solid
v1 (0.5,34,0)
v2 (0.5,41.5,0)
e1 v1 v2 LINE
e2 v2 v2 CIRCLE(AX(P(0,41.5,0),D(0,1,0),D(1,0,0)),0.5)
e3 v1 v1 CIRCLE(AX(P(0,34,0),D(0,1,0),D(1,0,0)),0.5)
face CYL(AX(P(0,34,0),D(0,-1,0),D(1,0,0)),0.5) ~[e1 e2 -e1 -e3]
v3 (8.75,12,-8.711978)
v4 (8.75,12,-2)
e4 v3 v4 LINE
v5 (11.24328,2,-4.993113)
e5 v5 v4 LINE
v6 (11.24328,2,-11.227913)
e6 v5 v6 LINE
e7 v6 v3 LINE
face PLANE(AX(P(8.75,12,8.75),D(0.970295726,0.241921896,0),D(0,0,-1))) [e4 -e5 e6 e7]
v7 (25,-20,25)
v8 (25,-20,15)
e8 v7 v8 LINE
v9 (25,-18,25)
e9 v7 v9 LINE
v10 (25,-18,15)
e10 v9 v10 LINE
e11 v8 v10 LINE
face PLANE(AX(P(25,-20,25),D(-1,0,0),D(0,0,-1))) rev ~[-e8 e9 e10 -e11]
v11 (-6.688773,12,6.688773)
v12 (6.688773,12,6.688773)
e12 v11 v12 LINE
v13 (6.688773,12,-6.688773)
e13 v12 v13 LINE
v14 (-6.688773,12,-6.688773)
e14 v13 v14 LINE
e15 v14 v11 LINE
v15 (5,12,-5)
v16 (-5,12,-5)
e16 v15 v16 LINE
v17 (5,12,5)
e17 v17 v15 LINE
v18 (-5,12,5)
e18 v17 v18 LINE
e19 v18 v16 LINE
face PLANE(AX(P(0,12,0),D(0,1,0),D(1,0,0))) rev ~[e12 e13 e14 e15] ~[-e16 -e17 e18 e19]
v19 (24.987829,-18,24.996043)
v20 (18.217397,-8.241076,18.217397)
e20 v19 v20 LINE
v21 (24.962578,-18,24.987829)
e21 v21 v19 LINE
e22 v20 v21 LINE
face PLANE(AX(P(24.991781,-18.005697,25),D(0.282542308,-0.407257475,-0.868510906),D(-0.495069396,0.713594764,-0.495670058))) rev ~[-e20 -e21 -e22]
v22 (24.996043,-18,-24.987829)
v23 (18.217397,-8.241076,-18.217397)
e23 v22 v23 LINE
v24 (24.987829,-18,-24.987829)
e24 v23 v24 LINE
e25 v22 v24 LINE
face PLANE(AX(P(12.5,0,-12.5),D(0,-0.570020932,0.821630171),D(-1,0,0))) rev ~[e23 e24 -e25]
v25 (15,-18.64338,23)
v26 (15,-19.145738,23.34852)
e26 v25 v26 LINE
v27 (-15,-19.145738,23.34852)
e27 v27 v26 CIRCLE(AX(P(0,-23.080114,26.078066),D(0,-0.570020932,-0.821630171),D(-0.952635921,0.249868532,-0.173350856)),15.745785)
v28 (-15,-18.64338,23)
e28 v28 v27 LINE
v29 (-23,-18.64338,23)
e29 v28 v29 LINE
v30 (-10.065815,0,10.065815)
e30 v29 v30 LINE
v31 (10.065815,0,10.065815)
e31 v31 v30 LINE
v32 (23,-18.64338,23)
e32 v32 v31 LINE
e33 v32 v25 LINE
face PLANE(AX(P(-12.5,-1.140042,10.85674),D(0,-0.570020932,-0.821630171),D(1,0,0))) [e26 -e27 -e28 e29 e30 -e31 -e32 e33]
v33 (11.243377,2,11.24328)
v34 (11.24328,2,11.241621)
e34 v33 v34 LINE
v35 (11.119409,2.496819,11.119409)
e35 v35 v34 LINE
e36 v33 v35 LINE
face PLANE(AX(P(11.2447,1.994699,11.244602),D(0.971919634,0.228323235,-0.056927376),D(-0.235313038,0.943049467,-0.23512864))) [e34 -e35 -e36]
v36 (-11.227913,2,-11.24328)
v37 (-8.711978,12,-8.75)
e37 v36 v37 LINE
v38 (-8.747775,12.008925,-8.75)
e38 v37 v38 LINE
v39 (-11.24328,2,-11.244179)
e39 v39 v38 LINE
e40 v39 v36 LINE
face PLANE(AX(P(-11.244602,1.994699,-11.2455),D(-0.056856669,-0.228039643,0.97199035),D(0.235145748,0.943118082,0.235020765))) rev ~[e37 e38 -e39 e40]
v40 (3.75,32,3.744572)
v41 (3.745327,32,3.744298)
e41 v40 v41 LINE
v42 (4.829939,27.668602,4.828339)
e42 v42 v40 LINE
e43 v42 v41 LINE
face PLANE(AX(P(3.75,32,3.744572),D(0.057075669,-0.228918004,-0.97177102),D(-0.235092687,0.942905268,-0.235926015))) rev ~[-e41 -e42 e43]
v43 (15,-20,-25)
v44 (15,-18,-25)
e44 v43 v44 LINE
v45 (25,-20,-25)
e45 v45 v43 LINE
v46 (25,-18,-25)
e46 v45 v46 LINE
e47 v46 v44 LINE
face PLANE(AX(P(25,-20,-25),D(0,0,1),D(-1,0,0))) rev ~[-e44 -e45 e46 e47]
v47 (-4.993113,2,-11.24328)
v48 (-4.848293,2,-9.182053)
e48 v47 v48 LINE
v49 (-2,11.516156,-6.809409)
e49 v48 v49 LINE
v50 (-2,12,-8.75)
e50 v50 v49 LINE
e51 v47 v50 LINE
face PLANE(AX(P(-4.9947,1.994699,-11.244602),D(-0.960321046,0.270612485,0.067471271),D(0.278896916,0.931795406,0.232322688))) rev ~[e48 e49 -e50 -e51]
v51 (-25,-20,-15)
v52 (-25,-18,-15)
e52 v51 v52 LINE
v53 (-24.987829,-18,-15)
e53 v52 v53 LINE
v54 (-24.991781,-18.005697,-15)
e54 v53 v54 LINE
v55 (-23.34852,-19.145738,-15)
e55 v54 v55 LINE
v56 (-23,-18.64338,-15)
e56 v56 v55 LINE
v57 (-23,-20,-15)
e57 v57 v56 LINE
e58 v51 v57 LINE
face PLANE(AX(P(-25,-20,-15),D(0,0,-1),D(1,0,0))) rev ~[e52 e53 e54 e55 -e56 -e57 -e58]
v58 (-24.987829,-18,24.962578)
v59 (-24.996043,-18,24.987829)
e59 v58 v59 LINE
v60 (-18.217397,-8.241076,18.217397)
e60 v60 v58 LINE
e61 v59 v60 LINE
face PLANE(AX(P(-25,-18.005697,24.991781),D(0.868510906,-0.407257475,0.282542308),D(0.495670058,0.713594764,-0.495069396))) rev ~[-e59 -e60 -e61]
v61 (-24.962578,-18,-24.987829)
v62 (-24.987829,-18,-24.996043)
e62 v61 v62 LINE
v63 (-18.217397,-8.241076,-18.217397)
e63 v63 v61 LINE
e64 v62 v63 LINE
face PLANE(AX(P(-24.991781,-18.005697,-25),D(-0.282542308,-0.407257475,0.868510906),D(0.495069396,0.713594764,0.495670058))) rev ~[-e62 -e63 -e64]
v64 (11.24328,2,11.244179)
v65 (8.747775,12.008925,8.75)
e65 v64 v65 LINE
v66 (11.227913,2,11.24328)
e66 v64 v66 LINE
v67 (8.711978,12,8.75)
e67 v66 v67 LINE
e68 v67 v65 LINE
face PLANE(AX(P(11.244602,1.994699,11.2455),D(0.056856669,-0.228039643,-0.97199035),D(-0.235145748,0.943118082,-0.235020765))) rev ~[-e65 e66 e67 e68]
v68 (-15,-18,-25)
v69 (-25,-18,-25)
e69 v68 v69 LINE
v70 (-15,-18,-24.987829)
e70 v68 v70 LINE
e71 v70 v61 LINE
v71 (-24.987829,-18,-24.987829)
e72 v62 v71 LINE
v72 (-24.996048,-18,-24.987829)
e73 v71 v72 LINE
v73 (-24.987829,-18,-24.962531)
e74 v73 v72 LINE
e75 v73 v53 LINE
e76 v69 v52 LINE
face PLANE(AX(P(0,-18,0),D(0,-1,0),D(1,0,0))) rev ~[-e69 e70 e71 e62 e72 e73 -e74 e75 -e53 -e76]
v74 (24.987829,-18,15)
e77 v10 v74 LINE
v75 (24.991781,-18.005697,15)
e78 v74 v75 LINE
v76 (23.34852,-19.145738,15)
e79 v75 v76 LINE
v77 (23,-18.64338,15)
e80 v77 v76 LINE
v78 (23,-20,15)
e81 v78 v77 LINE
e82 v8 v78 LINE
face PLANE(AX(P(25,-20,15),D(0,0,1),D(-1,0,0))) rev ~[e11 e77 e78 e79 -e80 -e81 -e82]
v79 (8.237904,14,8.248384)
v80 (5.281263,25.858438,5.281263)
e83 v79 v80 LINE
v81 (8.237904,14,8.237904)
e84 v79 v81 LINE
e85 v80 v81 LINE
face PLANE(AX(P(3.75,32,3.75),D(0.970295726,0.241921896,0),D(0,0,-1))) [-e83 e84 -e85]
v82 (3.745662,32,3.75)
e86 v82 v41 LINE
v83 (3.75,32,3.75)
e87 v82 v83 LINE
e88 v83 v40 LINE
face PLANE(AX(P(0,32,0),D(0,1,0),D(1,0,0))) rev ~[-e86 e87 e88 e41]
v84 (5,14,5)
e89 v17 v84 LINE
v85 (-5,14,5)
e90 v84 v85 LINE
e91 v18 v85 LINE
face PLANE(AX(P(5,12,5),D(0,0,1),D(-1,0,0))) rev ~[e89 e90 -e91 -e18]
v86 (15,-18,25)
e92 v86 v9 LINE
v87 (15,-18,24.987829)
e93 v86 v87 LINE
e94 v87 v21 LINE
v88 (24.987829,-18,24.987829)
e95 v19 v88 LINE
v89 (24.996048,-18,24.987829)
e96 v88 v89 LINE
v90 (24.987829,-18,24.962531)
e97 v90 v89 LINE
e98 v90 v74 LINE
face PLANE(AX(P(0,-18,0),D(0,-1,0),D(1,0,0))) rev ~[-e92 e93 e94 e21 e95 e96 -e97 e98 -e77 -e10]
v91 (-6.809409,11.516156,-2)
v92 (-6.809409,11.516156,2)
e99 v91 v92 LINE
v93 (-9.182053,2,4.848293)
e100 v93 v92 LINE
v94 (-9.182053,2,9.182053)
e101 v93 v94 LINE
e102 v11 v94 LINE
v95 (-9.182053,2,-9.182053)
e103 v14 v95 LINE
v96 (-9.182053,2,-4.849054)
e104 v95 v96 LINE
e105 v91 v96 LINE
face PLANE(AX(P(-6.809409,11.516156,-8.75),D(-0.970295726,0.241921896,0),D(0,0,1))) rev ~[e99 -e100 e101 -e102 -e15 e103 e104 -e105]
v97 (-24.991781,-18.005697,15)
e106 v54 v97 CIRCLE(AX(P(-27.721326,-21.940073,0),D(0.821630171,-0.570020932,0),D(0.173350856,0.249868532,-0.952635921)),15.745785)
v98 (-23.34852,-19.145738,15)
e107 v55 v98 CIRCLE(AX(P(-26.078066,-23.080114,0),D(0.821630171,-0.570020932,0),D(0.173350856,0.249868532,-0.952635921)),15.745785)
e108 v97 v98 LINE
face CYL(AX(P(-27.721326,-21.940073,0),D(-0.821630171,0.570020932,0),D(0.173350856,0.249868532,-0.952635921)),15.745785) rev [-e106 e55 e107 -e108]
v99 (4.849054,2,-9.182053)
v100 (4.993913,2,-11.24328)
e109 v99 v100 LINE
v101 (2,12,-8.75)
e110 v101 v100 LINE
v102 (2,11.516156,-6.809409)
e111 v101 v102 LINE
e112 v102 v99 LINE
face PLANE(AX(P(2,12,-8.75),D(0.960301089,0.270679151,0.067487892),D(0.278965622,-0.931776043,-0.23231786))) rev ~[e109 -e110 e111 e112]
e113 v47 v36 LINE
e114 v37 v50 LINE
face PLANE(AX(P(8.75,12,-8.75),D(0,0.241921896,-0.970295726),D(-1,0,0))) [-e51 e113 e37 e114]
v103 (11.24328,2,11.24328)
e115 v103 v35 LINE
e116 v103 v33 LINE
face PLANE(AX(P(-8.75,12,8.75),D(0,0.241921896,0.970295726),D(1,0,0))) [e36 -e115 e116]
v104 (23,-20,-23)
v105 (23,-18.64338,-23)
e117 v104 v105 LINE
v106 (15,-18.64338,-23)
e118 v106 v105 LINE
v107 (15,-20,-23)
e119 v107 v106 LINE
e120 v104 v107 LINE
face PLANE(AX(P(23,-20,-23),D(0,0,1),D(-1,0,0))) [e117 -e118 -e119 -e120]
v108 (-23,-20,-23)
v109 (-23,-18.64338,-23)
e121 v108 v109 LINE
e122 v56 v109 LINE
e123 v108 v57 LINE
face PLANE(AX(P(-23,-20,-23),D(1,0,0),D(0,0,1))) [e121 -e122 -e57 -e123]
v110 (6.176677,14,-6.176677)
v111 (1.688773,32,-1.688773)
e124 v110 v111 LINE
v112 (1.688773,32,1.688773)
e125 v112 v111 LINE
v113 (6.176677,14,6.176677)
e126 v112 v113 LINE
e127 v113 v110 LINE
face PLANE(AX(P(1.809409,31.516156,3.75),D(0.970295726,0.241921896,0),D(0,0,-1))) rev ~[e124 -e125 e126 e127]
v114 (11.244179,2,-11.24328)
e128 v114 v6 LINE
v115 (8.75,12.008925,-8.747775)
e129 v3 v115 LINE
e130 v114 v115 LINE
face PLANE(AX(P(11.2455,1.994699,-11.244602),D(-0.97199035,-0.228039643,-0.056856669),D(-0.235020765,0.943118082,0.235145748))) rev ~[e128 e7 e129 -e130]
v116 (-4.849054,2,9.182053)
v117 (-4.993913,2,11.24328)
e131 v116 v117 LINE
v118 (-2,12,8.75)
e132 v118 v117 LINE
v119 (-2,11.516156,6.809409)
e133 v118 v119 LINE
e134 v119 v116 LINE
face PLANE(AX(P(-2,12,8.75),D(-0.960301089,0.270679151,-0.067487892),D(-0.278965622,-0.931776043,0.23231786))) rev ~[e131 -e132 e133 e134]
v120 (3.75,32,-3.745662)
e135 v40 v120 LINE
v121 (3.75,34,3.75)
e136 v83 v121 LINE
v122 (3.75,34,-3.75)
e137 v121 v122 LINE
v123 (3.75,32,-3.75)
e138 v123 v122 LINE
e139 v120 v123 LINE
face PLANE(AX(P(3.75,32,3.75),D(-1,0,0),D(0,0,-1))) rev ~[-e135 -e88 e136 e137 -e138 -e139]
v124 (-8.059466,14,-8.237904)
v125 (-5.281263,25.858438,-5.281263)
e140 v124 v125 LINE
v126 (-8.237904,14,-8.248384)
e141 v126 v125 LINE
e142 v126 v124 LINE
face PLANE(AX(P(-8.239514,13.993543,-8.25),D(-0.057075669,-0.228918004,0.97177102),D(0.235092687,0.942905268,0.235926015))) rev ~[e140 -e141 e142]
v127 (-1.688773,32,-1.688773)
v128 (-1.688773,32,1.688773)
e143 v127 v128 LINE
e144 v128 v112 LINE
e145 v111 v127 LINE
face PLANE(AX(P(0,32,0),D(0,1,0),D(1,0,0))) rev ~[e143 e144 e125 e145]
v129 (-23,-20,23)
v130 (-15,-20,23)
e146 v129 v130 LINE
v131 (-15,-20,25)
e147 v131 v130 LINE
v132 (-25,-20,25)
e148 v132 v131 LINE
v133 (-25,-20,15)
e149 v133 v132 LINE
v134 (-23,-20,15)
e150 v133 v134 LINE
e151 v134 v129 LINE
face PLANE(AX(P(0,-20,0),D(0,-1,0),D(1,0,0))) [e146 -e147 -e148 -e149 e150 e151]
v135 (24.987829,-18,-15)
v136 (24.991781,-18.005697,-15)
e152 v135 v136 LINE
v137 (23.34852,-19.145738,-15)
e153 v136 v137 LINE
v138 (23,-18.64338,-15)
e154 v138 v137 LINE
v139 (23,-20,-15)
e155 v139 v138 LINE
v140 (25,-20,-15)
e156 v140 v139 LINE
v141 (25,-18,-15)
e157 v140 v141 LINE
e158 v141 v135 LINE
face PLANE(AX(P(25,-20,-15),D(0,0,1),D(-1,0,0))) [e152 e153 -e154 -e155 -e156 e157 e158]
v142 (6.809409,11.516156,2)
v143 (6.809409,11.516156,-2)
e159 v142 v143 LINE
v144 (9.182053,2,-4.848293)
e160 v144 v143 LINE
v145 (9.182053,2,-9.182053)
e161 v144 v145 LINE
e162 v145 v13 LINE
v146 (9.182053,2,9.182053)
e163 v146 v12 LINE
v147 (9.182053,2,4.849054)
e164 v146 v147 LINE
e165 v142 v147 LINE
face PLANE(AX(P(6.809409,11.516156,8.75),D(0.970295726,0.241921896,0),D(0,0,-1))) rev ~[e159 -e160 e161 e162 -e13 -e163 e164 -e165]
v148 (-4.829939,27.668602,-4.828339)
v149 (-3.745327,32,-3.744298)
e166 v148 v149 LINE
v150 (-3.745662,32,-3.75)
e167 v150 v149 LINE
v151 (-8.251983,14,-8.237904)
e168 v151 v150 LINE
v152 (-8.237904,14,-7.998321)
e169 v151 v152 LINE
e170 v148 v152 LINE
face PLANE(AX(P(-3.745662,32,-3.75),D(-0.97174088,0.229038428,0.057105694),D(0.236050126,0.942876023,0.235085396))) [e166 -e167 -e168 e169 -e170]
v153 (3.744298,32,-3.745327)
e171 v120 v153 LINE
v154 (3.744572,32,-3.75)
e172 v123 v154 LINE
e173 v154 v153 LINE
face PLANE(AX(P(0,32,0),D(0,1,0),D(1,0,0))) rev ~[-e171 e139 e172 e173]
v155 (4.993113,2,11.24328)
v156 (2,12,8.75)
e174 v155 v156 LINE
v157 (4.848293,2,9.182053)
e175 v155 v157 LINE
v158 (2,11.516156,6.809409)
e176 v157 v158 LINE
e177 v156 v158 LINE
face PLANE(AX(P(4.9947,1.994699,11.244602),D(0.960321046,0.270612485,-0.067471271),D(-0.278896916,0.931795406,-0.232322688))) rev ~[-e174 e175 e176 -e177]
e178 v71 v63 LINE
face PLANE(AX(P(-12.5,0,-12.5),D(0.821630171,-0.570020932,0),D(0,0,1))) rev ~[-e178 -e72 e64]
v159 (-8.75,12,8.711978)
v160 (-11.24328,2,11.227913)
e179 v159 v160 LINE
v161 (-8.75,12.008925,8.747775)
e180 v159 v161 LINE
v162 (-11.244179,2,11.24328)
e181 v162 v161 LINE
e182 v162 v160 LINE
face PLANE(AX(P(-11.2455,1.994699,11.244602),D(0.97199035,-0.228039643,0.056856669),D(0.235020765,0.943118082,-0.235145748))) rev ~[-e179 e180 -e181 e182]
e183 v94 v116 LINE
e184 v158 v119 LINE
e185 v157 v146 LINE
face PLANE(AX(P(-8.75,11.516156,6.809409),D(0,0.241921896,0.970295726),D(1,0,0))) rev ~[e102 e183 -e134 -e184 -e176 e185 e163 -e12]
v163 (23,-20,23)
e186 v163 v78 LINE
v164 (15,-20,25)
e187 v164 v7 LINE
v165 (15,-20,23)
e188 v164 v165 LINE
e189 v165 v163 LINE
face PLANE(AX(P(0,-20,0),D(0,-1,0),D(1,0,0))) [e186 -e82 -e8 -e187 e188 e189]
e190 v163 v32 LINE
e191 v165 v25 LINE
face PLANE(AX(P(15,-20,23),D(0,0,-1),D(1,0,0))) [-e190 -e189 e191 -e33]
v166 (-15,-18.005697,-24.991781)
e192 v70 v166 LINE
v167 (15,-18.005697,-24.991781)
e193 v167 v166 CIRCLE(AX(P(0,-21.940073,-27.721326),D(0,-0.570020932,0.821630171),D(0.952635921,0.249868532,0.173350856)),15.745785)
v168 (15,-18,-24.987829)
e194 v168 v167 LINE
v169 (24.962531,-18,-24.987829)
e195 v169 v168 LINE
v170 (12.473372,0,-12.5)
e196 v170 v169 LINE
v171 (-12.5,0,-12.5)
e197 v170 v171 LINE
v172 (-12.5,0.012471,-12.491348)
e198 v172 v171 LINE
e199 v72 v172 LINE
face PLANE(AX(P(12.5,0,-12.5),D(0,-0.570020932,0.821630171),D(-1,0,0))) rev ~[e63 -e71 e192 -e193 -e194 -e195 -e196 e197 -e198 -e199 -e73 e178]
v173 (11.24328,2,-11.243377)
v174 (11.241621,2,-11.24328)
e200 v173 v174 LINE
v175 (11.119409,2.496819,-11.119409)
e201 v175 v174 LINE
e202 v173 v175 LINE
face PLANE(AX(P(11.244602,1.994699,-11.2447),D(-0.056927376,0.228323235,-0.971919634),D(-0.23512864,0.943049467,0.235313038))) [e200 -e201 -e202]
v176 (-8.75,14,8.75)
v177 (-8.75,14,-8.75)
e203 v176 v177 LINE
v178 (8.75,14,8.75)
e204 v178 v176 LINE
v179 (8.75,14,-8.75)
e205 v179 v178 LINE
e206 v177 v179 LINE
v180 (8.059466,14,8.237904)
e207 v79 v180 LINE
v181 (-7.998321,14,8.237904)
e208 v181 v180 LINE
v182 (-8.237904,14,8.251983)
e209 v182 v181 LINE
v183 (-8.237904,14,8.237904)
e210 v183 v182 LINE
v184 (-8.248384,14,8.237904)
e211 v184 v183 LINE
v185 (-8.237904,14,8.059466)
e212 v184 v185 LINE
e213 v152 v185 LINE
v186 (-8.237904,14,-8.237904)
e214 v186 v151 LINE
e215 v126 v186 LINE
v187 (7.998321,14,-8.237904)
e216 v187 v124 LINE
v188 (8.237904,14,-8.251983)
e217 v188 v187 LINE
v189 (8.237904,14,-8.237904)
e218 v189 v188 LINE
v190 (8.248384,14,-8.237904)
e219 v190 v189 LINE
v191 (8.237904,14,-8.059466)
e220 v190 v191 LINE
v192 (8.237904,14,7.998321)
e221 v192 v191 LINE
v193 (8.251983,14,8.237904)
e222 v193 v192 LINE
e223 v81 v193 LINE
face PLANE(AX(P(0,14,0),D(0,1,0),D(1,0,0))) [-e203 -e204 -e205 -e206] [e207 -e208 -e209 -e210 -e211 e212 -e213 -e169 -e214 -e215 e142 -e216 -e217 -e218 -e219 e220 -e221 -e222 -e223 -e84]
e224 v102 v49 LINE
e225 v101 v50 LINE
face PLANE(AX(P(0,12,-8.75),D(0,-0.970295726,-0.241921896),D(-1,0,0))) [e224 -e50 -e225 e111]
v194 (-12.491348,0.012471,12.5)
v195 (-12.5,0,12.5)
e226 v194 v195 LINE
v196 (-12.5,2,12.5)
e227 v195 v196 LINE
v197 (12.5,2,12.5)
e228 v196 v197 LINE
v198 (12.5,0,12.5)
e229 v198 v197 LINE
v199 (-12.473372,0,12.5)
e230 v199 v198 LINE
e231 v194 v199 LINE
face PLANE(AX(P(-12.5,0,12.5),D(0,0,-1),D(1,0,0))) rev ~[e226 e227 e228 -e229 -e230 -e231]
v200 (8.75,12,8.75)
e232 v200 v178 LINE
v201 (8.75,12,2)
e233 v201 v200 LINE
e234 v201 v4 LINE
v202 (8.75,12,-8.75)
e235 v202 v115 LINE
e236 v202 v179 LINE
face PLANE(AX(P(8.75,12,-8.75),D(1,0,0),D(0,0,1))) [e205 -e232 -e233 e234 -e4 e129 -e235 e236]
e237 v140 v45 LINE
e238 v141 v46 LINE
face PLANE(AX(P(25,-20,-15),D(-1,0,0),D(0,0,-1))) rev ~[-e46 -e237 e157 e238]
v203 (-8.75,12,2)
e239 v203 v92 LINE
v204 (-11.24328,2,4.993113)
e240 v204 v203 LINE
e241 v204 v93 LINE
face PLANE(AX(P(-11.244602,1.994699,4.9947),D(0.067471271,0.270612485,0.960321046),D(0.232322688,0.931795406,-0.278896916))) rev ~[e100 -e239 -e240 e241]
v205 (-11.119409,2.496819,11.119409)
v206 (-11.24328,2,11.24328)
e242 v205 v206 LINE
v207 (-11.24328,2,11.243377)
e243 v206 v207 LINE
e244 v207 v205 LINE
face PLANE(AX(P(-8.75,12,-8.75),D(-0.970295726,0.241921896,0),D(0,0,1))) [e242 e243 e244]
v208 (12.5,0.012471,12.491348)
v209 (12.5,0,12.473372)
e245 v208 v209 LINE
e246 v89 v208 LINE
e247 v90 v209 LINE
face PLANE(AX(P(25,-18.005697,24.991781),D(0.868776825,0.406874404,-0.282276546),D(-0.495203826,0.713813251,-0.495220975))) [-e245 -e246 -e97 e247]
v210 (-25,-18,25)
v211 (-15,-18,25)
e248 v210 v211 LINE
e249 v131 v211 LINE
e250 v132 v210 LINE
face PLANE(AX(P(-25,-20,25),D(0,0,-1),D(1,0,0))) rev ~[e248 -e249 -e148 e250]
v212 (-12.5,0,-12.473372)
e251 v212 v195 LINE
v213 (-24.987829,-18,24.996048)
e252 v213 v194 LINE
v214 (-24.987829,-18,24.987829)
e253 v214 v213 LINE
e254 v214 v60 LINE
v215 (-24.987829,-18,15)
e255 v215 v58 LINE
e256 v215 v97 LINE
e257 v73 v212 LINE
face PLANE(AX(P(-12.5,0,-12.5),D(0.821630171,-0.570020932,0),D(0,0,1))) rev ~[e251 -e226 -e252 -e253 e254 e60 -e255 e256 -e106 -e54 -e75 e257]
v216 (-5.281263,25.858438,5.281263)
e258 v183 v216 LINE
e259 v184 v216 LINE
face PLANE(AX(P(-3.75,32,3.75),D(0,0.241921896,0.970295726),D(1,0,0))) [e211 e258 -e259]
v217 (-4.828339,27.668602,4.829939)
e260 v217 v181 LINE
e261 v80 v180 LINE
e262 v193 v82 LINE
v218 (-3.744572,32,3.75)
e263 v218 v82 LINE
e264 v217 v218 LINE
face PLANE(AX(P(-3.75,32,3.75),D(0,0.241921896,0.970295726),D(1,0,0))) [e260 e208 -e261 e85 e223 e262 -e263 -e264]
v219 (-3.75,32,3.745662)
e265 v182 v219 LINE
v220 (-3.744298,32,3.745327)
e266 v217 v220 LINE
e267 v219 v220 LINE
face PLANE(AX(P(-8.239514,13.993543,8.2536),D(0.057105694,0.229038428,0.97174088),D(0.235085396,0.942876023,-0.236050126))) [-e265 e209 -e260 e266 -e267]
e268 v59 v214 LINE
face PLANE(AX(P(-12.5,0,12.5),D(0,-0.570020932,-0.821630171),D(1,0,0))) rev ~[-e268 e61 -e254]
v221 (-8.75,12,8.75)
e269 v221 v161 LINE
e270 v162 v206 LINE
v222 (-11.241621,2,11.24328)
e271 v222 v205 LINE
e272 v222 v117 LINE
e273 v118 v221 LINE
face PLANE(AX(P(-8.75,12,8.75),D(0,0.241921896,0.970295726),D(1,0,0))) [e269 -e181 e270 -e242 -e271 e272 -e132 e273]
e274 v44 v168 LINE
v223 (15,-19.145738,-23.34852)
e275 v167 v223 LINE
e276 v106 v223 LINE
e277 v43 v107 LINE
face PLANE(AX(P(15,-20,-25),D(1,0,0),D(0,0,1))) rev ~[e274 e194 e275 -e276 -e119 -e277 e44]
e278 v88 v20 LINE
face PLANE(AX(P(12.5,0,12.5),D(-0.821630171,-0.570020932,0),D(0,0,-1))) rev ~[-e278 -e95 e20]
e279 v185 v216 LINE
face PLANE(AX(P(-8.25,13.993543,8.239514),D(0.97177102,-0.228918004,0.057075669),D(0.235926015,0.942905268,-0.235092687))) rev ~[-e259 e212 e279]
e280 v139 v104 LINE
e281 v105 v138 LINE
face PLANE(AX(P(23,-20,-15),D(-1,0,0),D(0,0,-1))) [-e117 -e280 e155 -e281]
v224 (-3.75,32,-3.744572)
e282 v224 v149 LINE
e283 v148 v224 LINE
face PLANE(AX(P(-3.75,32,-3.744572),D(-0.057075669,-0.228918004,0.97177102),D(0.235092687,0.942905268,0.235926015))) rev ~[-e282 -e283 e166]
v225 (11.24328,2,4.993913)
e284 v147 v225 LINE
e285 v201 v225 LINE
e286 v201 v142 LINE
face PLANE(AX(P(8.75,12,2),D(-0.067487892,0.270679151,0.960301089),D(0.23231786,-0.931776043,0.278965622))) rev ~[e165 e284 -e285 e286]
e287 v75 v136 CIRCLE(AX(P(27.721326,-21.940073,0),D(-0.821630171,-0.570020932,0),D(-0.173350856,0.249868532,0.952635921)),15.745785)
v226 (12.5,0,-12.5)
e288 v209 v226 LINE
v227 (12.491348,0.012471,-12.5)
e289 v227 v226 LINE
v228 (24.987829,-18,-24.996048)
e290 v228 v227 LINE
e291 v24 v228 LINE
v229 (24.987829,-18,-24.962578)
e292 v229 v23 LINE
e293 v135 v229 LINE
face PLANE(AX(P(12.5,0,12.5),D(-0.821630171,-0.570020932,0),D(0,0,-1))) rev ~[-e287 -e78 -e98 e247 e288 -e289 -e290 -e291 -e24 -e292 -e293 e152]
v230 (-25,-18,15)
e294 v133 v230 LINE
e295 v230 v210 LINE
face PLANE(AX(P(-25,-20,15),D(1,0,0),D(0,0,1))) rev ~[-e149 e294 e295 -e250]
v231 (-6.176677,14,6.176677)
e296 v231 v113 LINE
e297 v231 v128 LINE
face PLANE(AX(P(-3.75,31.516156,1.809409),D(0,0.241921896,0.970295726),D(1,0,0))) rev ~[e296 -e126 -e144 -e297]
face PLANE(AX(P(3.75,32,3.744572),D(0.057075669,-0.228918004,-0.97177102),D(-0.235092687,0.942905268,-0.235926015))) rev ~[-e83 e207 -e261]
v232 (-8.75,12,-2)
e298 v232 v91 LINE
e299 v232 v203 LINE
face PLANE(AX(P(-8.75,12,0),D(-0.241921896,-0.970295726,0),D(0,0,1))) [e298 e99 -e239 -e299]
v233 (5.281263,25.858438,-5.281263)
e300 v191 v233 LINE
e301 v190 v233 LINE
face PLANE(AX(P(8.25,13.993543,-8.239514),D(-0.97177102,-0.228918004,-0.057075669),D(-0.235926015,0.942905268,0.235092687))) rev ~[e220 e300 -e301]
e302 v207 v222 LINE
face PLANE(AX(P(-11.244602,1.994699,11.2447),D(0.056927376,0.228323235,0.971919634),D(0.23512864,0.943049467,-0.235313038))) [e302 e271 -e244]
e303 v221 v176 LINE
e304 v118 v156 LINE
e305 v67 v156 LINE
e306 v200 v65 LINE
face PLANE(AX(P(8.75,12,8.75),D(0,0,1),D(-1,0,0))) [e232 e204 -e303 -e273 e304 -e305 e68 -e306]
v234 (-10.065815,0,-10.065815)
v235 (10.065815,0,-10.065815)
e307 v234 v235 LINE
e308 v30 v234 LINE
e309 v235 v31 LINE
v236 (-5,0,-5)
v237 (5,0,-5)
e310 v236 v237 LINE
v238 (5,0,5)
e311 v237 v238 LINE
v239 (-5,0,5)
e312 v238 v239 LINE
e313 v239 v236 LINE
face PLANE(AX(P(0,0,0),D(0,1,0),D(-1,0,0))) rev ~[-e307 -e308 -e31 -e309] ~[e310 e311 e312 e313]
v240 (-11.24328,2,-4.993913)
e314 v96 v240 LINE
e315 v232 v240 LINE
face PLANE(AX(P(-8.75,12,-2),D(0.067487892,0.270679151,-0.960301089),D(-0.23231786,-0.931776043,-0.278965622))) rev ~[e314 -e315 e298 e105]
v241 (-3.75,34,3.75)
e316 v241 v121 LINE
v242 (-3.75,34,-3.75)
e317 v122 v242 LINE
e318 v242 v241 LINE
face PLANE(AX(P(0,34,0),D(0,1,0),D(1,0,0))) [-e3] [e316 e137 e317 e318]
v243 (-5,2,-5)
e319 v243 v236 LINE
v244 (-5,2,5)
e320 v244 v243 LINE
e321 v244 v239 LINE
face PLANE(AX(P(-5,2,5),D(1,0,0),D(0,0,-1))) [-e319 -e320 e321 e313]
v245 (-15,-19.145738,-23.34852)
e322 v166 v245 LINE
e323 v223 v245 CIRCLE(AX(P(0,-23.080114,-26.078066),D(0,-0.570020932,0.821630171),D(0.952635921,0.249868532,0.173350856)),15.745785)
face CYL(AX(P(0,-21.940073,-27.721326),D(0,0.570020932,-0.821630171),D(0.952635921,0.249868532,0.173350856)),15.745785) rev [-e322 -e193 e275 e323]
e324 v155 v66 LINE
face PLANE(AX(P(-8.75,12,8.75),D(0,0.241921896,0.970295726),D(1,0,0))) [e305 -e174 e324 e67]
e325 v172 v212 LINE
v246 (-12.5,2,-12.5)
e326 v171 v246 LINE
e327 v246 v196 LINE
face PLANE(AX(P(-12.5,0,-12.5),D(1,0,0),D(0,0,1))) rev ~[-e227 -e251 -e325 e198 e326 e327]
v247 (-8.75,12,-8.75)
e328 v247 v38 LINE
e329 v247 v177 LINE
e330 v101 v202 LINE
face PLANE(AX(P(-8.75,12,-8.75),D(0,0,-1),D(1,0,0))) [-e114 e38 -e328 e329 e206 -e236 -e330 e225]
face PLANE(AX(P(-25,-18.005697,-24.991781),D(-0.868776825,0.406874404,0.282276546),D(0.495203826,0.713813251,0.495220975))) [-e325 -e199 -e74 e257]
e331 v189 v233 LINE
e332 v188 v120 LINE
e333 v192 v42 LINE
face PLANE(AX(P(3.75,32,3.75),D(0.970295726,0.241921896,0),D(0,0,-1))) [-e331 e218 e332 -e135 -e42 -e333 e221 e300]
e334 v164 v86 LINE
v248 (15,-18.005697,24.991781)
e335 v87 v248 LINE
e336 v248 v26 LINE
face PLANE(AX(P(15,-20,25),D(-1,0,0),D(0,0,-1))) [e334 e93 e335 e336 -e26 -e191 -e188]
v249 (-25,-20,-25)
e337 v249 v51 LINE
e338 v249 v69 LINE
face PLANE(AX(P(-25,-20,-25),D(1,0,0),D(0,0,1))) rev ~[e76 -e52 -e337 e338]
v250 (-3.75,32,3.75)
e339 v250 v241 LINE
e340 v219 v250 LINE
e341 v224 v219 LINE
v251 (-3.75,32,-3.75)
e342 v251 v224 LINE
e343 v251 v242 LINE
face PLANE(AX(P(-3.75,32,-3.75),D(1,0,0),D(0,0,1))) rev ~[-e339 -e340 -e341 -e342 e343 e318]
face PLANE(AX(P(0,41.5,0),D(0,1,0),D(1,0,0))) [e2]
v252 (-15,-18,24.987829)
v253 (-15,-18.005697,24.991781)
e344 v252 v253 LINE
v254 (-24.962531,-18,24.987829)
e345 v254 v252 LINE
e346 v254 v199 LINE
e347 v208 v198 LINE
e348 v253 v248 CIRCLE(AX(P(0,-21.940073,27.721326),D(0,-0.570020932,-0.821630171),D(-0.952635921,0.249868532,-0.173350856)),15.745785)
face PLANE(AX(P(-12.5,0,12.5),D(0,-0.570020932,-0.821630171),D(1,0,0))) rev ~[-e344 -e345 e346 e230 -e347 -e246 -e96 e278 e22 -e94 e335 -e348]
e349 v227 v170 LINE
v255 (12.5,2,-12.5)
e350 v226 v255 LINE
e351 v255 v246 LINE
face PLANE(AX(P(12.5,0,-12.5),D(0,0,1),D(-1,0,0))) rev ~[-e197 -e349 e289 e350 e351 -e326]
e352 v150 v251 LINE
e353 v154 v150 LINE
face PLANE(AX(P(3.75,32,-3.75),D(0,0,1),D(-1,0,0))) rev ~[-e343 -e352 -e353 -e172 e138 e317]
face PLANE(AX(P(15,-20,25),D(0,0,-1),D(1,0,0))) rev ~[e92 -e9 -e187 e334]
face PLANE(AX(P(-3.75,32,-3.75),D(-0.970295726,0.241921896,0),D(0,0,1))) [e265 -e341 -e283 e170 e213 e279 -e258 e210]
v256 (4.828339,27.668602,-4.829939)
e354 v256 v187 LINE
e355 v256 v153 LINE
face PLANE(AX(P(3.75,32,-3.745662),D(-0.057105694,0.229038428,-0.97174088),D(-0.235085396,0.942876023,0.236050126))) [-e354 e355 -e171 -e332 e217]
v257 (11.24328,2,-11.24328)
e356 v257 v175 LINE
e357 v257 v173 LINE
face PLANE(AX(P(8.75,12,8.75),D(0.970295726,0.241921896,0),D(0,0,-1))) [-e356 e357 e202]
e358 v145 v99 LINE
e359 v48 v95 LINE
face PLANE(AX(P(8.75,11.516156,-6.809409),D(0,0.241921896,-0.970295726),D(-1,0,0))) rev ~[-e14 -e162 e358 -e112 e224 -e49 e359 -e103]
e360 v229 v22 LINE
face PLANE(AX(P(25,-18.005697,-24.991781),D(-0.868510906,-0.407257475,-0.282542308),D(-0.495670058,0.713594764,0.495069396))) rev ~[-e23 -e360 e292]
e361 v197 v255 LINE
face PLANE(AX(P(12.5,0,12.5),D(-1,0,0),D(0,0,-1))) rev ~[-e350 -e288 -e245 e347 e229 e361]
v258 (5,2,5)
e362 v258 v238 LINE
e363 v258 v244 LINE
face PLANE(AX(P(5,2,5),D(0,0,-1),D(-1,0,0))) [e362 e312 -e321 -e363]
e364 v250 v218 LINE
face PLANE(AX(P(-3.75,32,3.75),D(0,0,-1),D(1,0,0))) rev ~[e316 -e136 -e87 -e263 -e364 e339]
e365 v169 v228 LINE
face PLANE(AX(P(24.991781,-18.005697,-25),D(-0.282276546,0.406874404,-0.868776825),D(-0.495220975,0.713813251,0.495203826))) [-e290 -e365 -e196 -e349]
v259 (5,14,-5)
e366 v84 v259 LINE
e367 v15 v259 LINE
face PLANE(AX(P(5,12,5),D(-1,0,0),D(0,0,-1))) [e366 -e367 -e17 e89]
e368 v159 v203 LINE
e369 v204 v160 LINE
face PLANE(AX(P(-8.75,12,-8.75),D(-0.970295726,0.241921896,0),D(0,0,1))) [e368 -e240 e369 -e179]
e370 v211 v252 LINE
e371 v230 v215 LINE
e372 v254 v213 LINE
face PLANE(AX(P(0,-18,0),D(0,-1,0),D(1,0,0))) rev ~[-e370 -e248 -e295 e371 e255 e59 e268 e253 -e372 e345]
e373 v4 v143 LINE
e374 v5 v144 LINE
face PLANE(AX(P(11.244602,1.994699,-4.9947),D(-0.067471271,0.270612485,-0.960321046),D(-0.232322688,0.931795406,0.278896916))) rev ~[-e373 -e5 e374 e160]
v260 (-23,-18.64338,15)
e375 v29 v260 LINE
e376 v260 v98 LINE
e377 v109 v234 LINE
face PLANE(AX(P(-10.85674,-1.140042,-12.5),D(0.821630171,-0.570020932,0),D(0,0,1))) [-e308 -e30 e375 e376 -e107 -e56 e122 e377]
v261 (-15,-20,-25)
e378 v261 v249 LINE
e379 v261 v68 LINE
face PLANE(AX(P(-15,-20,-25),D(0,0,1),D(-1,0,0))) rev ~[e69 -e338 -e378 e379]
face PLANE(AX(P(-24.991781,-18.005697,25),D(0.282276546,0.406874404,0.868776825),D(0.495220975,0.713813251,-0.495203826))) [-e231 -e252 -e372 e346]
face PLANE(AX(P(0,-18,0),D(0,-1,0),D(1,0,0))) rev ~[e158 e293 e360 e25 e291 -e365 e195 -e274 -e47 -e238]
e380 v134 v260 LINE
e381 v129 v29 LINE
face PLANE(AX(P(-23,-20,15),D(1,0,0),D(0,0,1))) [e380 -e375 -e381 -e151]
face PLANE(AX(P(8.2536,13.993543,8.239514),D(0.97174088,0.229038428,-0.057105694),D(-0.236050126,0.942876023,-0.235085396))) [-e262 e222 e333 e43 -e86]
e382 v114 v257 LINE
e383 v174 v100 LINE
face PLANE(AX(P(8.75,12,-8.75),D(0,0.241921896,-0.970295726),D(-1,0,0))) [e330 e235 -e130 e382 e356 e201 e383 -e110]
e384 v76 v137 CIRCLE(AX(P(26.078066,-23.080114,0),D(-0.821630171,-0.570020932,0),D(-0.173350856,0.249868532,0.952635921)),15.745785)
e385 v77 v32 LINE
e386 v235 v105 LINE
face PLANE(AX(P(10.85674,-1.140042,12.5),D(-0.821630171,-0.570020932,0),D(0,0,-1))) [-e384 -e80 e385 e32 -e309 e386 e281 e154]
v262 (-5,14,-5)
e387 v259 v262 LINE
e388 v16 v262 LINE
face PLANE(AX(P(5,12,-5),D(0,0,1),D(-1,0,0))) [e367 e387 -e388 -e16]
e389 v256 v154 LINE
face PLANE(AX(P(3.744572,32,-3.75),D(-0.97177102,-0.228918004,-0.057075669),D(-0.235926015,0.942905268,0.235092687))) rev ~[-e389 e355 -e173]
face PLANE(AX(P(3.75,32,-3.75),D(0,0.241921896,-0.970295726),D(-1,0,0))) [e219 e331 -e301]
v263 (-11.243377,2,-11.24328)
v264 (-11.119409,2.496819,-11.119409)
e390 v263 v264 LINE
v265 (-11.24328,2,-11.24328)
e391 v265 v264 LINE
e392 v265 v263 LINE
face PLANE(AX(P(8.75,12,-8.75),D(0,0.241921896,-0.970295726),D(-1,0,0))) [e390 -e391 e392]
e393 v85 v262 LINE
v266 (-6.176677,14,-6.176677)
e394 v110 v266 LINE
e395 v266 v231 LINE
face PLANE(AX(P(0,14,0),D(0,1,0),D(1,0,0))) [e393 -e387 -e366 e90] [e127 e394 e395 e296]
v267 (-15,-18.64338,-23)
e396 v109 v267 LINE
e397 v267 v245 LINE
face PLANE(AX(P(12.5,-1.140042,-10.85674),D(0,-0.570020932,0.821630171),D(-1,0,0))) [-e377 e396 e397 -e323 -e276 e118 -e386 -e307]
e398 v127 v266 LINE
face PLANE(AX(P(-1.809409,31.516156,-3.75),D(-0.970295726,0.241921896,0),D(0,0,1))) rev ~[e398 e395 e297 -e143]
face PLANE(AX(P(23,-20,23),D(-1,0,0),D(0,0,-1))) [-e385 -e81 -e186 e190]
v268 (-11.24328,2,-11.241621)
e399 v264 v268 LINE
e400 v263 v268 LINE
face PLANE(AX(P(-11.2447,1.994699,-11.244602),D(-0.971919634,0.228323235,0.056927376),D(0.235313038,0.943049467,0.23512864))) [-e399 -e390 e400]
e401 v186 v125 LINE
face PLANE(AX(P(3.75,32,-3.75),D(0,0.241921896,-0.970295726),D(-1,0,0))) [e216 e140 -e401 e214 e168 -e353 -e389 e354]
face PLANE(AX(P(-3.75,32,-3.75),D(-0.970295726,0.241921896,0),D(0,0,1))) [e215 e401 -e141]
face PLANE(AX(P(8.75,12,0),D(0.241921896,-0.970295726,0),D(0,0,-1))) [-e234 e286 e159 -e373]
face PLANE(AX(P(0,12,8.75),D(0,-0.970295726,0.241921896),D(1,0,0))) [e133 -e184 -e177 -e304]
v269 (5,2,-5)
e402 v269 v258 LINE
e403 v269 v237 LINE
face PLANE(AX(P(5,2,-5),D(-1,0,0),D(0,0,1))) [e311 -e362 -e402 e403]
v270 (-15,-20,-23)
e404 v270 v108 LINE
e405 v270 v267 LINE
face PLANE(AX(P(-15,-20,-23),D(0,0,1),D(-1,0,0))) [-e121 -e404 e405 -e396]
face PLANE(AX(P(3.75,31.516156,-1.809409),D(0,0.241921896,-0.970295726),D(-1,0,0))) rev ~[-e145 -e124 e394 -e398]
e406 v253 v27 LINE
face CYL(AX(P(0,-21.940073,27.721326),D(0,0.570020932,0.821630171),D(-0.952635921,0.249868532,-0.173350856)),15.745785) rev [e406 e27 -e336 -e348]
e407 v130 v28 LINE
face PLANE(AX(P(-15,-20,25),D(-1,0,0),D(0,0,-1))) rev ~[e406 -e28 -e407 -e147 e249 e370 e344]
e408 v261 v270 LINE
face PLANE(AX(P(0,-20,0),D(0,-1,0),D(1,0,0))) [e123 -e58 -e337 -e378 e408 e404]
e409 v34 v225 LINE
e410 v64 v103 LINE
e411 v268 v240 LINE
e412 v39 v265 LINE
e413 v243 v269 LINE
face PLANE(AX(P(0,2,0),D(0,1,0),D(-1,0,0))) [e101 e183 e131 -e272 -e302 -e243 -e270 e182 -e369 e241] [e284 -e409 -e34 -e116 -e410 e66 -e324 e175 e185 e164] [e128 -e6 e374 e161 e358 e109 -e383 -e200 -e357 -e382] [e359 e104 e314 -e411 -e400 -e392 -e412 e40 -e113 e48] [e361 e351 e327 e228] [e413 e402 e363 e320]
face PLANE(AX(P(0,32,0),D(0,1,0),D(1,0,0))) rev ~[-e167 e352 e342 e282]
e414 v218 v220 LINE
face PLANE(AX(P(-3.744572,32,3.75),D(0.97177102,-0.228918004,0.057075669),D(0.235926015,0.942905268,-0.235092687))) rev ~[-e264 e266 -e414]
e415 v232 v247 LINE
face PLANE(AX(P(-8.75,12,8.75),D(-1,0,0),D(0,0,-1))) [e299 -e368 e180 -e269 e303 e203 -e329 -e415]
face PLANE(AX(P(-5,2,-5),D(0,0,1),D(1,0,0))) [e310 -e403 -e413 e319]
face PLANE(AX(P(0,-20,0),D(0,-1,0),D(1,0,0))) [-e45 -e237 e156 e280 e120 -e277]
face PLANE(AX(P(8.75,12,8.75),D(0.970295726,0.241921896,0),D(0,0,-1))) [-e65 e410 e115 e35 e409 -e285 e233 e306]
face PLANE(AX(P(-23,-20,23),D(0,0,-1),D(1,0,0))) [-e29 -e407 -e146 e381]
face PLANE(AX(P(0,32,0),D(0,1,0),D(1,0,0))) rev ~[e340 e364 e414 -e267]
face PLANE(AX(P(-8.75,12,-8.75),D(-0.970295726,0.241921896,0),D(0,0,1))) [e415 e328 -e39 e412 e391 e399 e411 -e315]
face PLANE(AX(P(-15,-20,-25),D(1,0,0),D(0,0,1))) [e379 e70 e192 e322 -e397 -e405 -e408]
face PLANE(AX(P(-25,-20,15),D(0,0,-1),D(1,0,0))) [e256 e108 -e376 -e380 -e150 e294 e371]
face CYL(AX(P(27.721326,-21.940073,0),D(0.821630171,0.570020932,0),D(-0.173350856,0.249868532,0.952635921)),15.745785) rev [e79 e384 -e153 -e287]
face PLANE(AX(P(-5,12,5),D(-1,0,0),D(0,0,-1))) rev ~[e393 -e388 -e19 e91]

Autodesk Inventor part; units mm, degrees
sketch "Boceto1" plane through (0, 0, 0) normal (0, 1, 0) x (-1, 0, 0)
  line L0 (12.5, 12.5) -> (-12.5, 12.5)
  line L1 (-12.5, 12.5) -> (-12.5, -12.5)
  line L2 (-12.5, -12.5) -> (12.5, -12.5)
  line L3 (12.5, -12.5) -> (12.5, 12.5)
  line L4 (3.75, -3.75) -> (-3.75, -3.75)
  line L5 (-3.75, -3.75) -> (-3.75, 3.75)
  line L6 (-3.75, 3.75) -> (3.75, 3.75)
  line L7 (3.75, 3.75) -> (3.75, -3.75)
  point P0 (0, 0)
  dimension "d0" = 25
  dimension "d1" = 25
  dimension "d2" = 12.5
  dimension "d3" = 12.5
  dimension "d9" = 7.5
  dimension "d10" = 7.5
  dimension "d11" = 3.75
  dimension "d12" = 3.75
extrude "Extrusión1" add sketch "Boceto1" along normal blind 2 contours L3 L2 L1 L0 | L4 L5 L6 L7
ref_plane "Plano de trabajo1" through (0, -20, 0) normal (0, -1, 0) x (1, 0, 0)
ref_plane "Plano de trabajo2" through (0, 32, 0) normal (0, 1, 0) x (1, 0, 0)
ref_plane "Plano de trabajo3" through (0, 12, 0) normal (0, 1, 0) x (1, 0, 0)
sketch "Boceto2" plane through (0, 2, 0) normal (0, 1, 0) x (1, 0, 0)
  line L0 (-5, 5) -> (5, 5)
  line L1 (5, 5) -> (5, -5)
  line L2 (5, -5) -> (-5, -5)
  line L3 (-5, -5) -> (-5, 5)
  point P0 (0, 0)
  dimension "d13" = 5
  dimension "d14" = 10
  dimension "d15" = 5
  dimension "d16" = 10
extrude "Extrusión2" cut sketch "Boceto2" against normal blind 2
sketch "Boceto3" plane through (0, -20, 0) normal (0, -1, 0) x (1, 0, 0)
  line L0 (-25, 25) -> (25, 25)
  line L1 (25, 25) -> (25, -25)
  line L2 (25, -25) -> (-25, -25)
  line L3 (-25, -25) -> (-25, 25)
  line L4 (-23, 23) -> (23, 23)
  line L5 (23, 23) -> (23, -23)
  line L6 (23, -23) -> (-23, -23)
  line L7 (-23, -23) -> (-23, 23)
  line L8 (-15, 25) -> (-15, 23)
  line L9 (-25, 15) -> (-23, 15)
  line L10 (15, 25) -> (15, 23)
  line L11 (25, 15) -> (23, 15)
  line L12 (-15, -25) -> (-15, -23)
  line L13 (-25, -15) -> (-23, -15)
  line L14 (25, -15) -> (23, -15)
  line L15 (15, -25) -> (15, -23)
  point P0 (0, 0)
  dimension "d19" = 50
  dimension "d20" = 50
  dimension "d21" = 25
  dimension "d22" = 25
  dimension "d23" = 46
  dimension "d24" = 46
  dimension "d25" = 23
  dimension "d26" = 23
extrude "Extrusión3" add sketch "Boceto3" against normal blind 2 contours L0 L8 L4 L7 L9 L3 | L0 L1 L11 L5 L4 L10 | L13 L7 L6 L12 L2 L3 | L1 L2 L15 L6 L5 L14
ref_plane "Plano de trabajo4" through (12.5, 0, -12.5) normal (0, -0.57, 0.8216) x (-1, 0, 0)
sketch "Boceto4" plane through (12.5, 0, -12.5) normal (0, -0.57, 0.8216) x (-1, 0, 0)
  line L0 (-12.5, 21.9146) -> (-2.5, 21.9146) projected
  line L1 (37.5, 21.9146) -> (37.5, 16.2146) projected
  line L2 (25, 0) -> (25, -14.2499) projected
  arc A0 (-2.5, 21.9146) -> (27.5, 21.9146) centre (12.5, 26.7031) ccw
  line L3 (-2.5, 21.9146) -> (-12.5, 21.9146)
  line L4 (-12.5, 17.8579) -> (-12.5, 16.2146) projected
  line L5 (0, 0) -> (0, -1.6433) projected
  line L6 (27.5, 21.9146) -> (37.5, 21.9146)
  line L7 (35.5, -0.8853) -> (37.5, -0.8853) projected
  line L8 (37.5, 21.9146) -> (23.6374, -2.4057)
  line L9 (-12.5, 21.9146) -> (1.3799, -2.4057)
  line L10 (1.3799, -2.4057) -> (23.6374, -2.4057)
  point P0 (12.5, -7.125)
  dimension "d30" = 15.7458
extrude "Extrusión4" add sketch "Boceto4" along normal blind 2
pattern_circular "Patrón circular1" count 4 over 360 about axis through (0, -10, 0) along (0, 1, 0) of "Extrusión4"
sketch "Boceto5" plane through (0, 12, 0) normal (0, 1, 0) x (1, 0, 0)
  line L0 (5, 5) -> (-5, 5) projected
  line L1 (5, -5) -> (5, 5) projected
  line L2 (-5, 5) -> (5, 5)
  line L3 (5, 5) -> (5, -5)
  line L4 (5, -5) -> (-5, -5)
  line L5 (-5, -5) -> (-5, 5)
  line L6 (-8.75, 8.75) -> (8.75, 8.75)
  line L7 (8.75, 8.75) -> (8.75, -8.75)
  line L8 (8.75, -8.75) -> (-8.75, -8.75)
  line L9 (-8.75, -8.75) -> (-8.75, 8.75)
  point P0 (0, 0)
  dimension "d36" = 17.5
  dimension "d37" = 17.5
  dimension "d38" = 8.75
  dimension "d39" = 8.75
extrude "Extrusión5" add sketch "Boceto5" along normal blind 2
ref_plane "Plano de trabajo5" through (-8.75, 12, 8.75) normal (0, 0.2419, 0.9703) x (1, 0, 0)
sketch "Boceto6" plane through (-8.75, 12, 8.75) normal (0, 0.2419, 0.9703) x (1, 0, 0)
  line L0 (-3.75, -6.5092) -> (-3.75, -12.5508) projected
  line L1 (-3.75, -10.3116) -> (21.2497, -10.3116)
  line L2 (-3.75, -12.5508) -> (-2.4955, -10.3116)
  line L3 (21.2497, -10.3116) -> (19.9947, -10.3116)
  line L4 (-2.4955, -10.3116) -> (0.467, 1.9406)
  line L5 (0, 1.9406) -> (17.5, 1.9406) projected
  line L6 (19.9947, -10.3116) -> (17.0283, 1.9406)
  line L7 (0.4668, 1.9398) -> (17.0284, 1.9398)
  line L8 (0.4668, 1.9398) -> (17.0284, 1.9398) construction
  line L9 (-2.4955, -10.3116) -> (3.7545, -10.3116)
  line L10 (0, 0) -> (17.5, 0) projected
  line L11 (8.75, 0) -> (6.75, 0)
  line L12 (6.75, 0) -> (3.7545, -10.3116)
  line L13 (8.75, 0) -> (10.75, 0)
  line L14 (19.9947, -10.3116) -> (13.7447, -10.3116)
  line L15 (13.7447, -10.3116) -> (10.75, 0)
  point P0 (8.75, -9.5267)
  dimension "d43" = 1.2545
  dimension "d44" = 1.255
  dimension "d45" = 0
  dimension "d46" = 6.25
  dimension "d47" = 2
  dimension "d48" = 2
  dimension "d49" = 6.25
extrude "Extrusión6" add sketch "Boceto6" against normal blind 2 contours L4 L5 L6 L10 L12 L1 | L15 L10 L6 L1
pattern_circular "Patrón circular2" count 4 over 360 about axis through (0, -10, 0) along (0, 1, 0) of "Extrusión6"
sketch "Boceto7" plane through (0, 32, 0) normal (0, 1, 0) x (1, 0, 0)
  line L0 (-3.75, -3.75) -> (3.75, -3.75)
  line L1 (3.75, -3.75) -> (3.75, 3.75)
  line L2 (3.75, 3.75) -> (-3.75, 3.75)
  line L3 (-3.75, 3.75) -> (-3.75, -3.75)
  point P0 (0, 0)
  dimension "d55" = 7.5
  dimension "d56" = 7.5
extrude "Extrusión7" add sketch "Boceto7" along normal blind 2
ref_plane "Plano de trabajo6" through (3.75, 32, 3.75) normal (0.9703, 0.2419, 0) x (0, 0, -1)
sketch "Boceto8" plane through (3.75, 32, 3.75) normal (0.9703, 0.2419, 0) x (0, 0, -1)
  line L0 (-5, -14.4413) -> (-5, -18.6749) projected
  line L1 (-5, -18.5577) -> (12.5036, -18.5577)
  line L2 (0, 0) -> (7.5, 0) projected
  line L3 (0, 0) -> (7.5, 0)
  line L4 (14.9785, -30.9217) -> (12.4622, -20.6155) projected
  line L5 (12.4622, -20.6155) -> (11.9437, -18.5577)
  line L6 (11.9437, -18.5577) -> (12.5036, -18.5577)
  line L7 (12.5036, -18.5577) -> (12.0036, -18.5577)
  line L8 (-5, -18.5577) -> (-4.5, -18.5577)
  line L9 (-4.5, -18.5577) -> (0.4628, 1.8839)
  line L10 (12.0036, -18.5577) -> (7.0641, 1.7766)
  line L11 (7.1342, 1.4879) -> (0.3667, 1.4879)
  point P0 (3.75, -30.1423)
  point P1 (12.0036, -18.5577)
  dimension "d60" = 0.5
  dimension "d61" = 0.5
extrude "Extrusión8" add sketch "Boceto8" against normal blind 2
pattern_circular "Patrón circular3" count 4 over 360 about axis through (0, -10, 0) along (0, 1, 0) of "Extrusión8"
ref_plane "Plano de trabajo7" through (1.6888, 32, -1.6888) normal (0, 1, 0) x (1, 0, 0)
sketch "Boceto9" plane through (0, 34, 0) normal (0, 1, 0) x (1, 0, 0)
  circle A0 centre (0, 0) radius 0.5
  dimension "d67" = 1
extrude "Extrusión9" add sketch "Boceto9" along normal blind 7.5
properties part number "torre"
